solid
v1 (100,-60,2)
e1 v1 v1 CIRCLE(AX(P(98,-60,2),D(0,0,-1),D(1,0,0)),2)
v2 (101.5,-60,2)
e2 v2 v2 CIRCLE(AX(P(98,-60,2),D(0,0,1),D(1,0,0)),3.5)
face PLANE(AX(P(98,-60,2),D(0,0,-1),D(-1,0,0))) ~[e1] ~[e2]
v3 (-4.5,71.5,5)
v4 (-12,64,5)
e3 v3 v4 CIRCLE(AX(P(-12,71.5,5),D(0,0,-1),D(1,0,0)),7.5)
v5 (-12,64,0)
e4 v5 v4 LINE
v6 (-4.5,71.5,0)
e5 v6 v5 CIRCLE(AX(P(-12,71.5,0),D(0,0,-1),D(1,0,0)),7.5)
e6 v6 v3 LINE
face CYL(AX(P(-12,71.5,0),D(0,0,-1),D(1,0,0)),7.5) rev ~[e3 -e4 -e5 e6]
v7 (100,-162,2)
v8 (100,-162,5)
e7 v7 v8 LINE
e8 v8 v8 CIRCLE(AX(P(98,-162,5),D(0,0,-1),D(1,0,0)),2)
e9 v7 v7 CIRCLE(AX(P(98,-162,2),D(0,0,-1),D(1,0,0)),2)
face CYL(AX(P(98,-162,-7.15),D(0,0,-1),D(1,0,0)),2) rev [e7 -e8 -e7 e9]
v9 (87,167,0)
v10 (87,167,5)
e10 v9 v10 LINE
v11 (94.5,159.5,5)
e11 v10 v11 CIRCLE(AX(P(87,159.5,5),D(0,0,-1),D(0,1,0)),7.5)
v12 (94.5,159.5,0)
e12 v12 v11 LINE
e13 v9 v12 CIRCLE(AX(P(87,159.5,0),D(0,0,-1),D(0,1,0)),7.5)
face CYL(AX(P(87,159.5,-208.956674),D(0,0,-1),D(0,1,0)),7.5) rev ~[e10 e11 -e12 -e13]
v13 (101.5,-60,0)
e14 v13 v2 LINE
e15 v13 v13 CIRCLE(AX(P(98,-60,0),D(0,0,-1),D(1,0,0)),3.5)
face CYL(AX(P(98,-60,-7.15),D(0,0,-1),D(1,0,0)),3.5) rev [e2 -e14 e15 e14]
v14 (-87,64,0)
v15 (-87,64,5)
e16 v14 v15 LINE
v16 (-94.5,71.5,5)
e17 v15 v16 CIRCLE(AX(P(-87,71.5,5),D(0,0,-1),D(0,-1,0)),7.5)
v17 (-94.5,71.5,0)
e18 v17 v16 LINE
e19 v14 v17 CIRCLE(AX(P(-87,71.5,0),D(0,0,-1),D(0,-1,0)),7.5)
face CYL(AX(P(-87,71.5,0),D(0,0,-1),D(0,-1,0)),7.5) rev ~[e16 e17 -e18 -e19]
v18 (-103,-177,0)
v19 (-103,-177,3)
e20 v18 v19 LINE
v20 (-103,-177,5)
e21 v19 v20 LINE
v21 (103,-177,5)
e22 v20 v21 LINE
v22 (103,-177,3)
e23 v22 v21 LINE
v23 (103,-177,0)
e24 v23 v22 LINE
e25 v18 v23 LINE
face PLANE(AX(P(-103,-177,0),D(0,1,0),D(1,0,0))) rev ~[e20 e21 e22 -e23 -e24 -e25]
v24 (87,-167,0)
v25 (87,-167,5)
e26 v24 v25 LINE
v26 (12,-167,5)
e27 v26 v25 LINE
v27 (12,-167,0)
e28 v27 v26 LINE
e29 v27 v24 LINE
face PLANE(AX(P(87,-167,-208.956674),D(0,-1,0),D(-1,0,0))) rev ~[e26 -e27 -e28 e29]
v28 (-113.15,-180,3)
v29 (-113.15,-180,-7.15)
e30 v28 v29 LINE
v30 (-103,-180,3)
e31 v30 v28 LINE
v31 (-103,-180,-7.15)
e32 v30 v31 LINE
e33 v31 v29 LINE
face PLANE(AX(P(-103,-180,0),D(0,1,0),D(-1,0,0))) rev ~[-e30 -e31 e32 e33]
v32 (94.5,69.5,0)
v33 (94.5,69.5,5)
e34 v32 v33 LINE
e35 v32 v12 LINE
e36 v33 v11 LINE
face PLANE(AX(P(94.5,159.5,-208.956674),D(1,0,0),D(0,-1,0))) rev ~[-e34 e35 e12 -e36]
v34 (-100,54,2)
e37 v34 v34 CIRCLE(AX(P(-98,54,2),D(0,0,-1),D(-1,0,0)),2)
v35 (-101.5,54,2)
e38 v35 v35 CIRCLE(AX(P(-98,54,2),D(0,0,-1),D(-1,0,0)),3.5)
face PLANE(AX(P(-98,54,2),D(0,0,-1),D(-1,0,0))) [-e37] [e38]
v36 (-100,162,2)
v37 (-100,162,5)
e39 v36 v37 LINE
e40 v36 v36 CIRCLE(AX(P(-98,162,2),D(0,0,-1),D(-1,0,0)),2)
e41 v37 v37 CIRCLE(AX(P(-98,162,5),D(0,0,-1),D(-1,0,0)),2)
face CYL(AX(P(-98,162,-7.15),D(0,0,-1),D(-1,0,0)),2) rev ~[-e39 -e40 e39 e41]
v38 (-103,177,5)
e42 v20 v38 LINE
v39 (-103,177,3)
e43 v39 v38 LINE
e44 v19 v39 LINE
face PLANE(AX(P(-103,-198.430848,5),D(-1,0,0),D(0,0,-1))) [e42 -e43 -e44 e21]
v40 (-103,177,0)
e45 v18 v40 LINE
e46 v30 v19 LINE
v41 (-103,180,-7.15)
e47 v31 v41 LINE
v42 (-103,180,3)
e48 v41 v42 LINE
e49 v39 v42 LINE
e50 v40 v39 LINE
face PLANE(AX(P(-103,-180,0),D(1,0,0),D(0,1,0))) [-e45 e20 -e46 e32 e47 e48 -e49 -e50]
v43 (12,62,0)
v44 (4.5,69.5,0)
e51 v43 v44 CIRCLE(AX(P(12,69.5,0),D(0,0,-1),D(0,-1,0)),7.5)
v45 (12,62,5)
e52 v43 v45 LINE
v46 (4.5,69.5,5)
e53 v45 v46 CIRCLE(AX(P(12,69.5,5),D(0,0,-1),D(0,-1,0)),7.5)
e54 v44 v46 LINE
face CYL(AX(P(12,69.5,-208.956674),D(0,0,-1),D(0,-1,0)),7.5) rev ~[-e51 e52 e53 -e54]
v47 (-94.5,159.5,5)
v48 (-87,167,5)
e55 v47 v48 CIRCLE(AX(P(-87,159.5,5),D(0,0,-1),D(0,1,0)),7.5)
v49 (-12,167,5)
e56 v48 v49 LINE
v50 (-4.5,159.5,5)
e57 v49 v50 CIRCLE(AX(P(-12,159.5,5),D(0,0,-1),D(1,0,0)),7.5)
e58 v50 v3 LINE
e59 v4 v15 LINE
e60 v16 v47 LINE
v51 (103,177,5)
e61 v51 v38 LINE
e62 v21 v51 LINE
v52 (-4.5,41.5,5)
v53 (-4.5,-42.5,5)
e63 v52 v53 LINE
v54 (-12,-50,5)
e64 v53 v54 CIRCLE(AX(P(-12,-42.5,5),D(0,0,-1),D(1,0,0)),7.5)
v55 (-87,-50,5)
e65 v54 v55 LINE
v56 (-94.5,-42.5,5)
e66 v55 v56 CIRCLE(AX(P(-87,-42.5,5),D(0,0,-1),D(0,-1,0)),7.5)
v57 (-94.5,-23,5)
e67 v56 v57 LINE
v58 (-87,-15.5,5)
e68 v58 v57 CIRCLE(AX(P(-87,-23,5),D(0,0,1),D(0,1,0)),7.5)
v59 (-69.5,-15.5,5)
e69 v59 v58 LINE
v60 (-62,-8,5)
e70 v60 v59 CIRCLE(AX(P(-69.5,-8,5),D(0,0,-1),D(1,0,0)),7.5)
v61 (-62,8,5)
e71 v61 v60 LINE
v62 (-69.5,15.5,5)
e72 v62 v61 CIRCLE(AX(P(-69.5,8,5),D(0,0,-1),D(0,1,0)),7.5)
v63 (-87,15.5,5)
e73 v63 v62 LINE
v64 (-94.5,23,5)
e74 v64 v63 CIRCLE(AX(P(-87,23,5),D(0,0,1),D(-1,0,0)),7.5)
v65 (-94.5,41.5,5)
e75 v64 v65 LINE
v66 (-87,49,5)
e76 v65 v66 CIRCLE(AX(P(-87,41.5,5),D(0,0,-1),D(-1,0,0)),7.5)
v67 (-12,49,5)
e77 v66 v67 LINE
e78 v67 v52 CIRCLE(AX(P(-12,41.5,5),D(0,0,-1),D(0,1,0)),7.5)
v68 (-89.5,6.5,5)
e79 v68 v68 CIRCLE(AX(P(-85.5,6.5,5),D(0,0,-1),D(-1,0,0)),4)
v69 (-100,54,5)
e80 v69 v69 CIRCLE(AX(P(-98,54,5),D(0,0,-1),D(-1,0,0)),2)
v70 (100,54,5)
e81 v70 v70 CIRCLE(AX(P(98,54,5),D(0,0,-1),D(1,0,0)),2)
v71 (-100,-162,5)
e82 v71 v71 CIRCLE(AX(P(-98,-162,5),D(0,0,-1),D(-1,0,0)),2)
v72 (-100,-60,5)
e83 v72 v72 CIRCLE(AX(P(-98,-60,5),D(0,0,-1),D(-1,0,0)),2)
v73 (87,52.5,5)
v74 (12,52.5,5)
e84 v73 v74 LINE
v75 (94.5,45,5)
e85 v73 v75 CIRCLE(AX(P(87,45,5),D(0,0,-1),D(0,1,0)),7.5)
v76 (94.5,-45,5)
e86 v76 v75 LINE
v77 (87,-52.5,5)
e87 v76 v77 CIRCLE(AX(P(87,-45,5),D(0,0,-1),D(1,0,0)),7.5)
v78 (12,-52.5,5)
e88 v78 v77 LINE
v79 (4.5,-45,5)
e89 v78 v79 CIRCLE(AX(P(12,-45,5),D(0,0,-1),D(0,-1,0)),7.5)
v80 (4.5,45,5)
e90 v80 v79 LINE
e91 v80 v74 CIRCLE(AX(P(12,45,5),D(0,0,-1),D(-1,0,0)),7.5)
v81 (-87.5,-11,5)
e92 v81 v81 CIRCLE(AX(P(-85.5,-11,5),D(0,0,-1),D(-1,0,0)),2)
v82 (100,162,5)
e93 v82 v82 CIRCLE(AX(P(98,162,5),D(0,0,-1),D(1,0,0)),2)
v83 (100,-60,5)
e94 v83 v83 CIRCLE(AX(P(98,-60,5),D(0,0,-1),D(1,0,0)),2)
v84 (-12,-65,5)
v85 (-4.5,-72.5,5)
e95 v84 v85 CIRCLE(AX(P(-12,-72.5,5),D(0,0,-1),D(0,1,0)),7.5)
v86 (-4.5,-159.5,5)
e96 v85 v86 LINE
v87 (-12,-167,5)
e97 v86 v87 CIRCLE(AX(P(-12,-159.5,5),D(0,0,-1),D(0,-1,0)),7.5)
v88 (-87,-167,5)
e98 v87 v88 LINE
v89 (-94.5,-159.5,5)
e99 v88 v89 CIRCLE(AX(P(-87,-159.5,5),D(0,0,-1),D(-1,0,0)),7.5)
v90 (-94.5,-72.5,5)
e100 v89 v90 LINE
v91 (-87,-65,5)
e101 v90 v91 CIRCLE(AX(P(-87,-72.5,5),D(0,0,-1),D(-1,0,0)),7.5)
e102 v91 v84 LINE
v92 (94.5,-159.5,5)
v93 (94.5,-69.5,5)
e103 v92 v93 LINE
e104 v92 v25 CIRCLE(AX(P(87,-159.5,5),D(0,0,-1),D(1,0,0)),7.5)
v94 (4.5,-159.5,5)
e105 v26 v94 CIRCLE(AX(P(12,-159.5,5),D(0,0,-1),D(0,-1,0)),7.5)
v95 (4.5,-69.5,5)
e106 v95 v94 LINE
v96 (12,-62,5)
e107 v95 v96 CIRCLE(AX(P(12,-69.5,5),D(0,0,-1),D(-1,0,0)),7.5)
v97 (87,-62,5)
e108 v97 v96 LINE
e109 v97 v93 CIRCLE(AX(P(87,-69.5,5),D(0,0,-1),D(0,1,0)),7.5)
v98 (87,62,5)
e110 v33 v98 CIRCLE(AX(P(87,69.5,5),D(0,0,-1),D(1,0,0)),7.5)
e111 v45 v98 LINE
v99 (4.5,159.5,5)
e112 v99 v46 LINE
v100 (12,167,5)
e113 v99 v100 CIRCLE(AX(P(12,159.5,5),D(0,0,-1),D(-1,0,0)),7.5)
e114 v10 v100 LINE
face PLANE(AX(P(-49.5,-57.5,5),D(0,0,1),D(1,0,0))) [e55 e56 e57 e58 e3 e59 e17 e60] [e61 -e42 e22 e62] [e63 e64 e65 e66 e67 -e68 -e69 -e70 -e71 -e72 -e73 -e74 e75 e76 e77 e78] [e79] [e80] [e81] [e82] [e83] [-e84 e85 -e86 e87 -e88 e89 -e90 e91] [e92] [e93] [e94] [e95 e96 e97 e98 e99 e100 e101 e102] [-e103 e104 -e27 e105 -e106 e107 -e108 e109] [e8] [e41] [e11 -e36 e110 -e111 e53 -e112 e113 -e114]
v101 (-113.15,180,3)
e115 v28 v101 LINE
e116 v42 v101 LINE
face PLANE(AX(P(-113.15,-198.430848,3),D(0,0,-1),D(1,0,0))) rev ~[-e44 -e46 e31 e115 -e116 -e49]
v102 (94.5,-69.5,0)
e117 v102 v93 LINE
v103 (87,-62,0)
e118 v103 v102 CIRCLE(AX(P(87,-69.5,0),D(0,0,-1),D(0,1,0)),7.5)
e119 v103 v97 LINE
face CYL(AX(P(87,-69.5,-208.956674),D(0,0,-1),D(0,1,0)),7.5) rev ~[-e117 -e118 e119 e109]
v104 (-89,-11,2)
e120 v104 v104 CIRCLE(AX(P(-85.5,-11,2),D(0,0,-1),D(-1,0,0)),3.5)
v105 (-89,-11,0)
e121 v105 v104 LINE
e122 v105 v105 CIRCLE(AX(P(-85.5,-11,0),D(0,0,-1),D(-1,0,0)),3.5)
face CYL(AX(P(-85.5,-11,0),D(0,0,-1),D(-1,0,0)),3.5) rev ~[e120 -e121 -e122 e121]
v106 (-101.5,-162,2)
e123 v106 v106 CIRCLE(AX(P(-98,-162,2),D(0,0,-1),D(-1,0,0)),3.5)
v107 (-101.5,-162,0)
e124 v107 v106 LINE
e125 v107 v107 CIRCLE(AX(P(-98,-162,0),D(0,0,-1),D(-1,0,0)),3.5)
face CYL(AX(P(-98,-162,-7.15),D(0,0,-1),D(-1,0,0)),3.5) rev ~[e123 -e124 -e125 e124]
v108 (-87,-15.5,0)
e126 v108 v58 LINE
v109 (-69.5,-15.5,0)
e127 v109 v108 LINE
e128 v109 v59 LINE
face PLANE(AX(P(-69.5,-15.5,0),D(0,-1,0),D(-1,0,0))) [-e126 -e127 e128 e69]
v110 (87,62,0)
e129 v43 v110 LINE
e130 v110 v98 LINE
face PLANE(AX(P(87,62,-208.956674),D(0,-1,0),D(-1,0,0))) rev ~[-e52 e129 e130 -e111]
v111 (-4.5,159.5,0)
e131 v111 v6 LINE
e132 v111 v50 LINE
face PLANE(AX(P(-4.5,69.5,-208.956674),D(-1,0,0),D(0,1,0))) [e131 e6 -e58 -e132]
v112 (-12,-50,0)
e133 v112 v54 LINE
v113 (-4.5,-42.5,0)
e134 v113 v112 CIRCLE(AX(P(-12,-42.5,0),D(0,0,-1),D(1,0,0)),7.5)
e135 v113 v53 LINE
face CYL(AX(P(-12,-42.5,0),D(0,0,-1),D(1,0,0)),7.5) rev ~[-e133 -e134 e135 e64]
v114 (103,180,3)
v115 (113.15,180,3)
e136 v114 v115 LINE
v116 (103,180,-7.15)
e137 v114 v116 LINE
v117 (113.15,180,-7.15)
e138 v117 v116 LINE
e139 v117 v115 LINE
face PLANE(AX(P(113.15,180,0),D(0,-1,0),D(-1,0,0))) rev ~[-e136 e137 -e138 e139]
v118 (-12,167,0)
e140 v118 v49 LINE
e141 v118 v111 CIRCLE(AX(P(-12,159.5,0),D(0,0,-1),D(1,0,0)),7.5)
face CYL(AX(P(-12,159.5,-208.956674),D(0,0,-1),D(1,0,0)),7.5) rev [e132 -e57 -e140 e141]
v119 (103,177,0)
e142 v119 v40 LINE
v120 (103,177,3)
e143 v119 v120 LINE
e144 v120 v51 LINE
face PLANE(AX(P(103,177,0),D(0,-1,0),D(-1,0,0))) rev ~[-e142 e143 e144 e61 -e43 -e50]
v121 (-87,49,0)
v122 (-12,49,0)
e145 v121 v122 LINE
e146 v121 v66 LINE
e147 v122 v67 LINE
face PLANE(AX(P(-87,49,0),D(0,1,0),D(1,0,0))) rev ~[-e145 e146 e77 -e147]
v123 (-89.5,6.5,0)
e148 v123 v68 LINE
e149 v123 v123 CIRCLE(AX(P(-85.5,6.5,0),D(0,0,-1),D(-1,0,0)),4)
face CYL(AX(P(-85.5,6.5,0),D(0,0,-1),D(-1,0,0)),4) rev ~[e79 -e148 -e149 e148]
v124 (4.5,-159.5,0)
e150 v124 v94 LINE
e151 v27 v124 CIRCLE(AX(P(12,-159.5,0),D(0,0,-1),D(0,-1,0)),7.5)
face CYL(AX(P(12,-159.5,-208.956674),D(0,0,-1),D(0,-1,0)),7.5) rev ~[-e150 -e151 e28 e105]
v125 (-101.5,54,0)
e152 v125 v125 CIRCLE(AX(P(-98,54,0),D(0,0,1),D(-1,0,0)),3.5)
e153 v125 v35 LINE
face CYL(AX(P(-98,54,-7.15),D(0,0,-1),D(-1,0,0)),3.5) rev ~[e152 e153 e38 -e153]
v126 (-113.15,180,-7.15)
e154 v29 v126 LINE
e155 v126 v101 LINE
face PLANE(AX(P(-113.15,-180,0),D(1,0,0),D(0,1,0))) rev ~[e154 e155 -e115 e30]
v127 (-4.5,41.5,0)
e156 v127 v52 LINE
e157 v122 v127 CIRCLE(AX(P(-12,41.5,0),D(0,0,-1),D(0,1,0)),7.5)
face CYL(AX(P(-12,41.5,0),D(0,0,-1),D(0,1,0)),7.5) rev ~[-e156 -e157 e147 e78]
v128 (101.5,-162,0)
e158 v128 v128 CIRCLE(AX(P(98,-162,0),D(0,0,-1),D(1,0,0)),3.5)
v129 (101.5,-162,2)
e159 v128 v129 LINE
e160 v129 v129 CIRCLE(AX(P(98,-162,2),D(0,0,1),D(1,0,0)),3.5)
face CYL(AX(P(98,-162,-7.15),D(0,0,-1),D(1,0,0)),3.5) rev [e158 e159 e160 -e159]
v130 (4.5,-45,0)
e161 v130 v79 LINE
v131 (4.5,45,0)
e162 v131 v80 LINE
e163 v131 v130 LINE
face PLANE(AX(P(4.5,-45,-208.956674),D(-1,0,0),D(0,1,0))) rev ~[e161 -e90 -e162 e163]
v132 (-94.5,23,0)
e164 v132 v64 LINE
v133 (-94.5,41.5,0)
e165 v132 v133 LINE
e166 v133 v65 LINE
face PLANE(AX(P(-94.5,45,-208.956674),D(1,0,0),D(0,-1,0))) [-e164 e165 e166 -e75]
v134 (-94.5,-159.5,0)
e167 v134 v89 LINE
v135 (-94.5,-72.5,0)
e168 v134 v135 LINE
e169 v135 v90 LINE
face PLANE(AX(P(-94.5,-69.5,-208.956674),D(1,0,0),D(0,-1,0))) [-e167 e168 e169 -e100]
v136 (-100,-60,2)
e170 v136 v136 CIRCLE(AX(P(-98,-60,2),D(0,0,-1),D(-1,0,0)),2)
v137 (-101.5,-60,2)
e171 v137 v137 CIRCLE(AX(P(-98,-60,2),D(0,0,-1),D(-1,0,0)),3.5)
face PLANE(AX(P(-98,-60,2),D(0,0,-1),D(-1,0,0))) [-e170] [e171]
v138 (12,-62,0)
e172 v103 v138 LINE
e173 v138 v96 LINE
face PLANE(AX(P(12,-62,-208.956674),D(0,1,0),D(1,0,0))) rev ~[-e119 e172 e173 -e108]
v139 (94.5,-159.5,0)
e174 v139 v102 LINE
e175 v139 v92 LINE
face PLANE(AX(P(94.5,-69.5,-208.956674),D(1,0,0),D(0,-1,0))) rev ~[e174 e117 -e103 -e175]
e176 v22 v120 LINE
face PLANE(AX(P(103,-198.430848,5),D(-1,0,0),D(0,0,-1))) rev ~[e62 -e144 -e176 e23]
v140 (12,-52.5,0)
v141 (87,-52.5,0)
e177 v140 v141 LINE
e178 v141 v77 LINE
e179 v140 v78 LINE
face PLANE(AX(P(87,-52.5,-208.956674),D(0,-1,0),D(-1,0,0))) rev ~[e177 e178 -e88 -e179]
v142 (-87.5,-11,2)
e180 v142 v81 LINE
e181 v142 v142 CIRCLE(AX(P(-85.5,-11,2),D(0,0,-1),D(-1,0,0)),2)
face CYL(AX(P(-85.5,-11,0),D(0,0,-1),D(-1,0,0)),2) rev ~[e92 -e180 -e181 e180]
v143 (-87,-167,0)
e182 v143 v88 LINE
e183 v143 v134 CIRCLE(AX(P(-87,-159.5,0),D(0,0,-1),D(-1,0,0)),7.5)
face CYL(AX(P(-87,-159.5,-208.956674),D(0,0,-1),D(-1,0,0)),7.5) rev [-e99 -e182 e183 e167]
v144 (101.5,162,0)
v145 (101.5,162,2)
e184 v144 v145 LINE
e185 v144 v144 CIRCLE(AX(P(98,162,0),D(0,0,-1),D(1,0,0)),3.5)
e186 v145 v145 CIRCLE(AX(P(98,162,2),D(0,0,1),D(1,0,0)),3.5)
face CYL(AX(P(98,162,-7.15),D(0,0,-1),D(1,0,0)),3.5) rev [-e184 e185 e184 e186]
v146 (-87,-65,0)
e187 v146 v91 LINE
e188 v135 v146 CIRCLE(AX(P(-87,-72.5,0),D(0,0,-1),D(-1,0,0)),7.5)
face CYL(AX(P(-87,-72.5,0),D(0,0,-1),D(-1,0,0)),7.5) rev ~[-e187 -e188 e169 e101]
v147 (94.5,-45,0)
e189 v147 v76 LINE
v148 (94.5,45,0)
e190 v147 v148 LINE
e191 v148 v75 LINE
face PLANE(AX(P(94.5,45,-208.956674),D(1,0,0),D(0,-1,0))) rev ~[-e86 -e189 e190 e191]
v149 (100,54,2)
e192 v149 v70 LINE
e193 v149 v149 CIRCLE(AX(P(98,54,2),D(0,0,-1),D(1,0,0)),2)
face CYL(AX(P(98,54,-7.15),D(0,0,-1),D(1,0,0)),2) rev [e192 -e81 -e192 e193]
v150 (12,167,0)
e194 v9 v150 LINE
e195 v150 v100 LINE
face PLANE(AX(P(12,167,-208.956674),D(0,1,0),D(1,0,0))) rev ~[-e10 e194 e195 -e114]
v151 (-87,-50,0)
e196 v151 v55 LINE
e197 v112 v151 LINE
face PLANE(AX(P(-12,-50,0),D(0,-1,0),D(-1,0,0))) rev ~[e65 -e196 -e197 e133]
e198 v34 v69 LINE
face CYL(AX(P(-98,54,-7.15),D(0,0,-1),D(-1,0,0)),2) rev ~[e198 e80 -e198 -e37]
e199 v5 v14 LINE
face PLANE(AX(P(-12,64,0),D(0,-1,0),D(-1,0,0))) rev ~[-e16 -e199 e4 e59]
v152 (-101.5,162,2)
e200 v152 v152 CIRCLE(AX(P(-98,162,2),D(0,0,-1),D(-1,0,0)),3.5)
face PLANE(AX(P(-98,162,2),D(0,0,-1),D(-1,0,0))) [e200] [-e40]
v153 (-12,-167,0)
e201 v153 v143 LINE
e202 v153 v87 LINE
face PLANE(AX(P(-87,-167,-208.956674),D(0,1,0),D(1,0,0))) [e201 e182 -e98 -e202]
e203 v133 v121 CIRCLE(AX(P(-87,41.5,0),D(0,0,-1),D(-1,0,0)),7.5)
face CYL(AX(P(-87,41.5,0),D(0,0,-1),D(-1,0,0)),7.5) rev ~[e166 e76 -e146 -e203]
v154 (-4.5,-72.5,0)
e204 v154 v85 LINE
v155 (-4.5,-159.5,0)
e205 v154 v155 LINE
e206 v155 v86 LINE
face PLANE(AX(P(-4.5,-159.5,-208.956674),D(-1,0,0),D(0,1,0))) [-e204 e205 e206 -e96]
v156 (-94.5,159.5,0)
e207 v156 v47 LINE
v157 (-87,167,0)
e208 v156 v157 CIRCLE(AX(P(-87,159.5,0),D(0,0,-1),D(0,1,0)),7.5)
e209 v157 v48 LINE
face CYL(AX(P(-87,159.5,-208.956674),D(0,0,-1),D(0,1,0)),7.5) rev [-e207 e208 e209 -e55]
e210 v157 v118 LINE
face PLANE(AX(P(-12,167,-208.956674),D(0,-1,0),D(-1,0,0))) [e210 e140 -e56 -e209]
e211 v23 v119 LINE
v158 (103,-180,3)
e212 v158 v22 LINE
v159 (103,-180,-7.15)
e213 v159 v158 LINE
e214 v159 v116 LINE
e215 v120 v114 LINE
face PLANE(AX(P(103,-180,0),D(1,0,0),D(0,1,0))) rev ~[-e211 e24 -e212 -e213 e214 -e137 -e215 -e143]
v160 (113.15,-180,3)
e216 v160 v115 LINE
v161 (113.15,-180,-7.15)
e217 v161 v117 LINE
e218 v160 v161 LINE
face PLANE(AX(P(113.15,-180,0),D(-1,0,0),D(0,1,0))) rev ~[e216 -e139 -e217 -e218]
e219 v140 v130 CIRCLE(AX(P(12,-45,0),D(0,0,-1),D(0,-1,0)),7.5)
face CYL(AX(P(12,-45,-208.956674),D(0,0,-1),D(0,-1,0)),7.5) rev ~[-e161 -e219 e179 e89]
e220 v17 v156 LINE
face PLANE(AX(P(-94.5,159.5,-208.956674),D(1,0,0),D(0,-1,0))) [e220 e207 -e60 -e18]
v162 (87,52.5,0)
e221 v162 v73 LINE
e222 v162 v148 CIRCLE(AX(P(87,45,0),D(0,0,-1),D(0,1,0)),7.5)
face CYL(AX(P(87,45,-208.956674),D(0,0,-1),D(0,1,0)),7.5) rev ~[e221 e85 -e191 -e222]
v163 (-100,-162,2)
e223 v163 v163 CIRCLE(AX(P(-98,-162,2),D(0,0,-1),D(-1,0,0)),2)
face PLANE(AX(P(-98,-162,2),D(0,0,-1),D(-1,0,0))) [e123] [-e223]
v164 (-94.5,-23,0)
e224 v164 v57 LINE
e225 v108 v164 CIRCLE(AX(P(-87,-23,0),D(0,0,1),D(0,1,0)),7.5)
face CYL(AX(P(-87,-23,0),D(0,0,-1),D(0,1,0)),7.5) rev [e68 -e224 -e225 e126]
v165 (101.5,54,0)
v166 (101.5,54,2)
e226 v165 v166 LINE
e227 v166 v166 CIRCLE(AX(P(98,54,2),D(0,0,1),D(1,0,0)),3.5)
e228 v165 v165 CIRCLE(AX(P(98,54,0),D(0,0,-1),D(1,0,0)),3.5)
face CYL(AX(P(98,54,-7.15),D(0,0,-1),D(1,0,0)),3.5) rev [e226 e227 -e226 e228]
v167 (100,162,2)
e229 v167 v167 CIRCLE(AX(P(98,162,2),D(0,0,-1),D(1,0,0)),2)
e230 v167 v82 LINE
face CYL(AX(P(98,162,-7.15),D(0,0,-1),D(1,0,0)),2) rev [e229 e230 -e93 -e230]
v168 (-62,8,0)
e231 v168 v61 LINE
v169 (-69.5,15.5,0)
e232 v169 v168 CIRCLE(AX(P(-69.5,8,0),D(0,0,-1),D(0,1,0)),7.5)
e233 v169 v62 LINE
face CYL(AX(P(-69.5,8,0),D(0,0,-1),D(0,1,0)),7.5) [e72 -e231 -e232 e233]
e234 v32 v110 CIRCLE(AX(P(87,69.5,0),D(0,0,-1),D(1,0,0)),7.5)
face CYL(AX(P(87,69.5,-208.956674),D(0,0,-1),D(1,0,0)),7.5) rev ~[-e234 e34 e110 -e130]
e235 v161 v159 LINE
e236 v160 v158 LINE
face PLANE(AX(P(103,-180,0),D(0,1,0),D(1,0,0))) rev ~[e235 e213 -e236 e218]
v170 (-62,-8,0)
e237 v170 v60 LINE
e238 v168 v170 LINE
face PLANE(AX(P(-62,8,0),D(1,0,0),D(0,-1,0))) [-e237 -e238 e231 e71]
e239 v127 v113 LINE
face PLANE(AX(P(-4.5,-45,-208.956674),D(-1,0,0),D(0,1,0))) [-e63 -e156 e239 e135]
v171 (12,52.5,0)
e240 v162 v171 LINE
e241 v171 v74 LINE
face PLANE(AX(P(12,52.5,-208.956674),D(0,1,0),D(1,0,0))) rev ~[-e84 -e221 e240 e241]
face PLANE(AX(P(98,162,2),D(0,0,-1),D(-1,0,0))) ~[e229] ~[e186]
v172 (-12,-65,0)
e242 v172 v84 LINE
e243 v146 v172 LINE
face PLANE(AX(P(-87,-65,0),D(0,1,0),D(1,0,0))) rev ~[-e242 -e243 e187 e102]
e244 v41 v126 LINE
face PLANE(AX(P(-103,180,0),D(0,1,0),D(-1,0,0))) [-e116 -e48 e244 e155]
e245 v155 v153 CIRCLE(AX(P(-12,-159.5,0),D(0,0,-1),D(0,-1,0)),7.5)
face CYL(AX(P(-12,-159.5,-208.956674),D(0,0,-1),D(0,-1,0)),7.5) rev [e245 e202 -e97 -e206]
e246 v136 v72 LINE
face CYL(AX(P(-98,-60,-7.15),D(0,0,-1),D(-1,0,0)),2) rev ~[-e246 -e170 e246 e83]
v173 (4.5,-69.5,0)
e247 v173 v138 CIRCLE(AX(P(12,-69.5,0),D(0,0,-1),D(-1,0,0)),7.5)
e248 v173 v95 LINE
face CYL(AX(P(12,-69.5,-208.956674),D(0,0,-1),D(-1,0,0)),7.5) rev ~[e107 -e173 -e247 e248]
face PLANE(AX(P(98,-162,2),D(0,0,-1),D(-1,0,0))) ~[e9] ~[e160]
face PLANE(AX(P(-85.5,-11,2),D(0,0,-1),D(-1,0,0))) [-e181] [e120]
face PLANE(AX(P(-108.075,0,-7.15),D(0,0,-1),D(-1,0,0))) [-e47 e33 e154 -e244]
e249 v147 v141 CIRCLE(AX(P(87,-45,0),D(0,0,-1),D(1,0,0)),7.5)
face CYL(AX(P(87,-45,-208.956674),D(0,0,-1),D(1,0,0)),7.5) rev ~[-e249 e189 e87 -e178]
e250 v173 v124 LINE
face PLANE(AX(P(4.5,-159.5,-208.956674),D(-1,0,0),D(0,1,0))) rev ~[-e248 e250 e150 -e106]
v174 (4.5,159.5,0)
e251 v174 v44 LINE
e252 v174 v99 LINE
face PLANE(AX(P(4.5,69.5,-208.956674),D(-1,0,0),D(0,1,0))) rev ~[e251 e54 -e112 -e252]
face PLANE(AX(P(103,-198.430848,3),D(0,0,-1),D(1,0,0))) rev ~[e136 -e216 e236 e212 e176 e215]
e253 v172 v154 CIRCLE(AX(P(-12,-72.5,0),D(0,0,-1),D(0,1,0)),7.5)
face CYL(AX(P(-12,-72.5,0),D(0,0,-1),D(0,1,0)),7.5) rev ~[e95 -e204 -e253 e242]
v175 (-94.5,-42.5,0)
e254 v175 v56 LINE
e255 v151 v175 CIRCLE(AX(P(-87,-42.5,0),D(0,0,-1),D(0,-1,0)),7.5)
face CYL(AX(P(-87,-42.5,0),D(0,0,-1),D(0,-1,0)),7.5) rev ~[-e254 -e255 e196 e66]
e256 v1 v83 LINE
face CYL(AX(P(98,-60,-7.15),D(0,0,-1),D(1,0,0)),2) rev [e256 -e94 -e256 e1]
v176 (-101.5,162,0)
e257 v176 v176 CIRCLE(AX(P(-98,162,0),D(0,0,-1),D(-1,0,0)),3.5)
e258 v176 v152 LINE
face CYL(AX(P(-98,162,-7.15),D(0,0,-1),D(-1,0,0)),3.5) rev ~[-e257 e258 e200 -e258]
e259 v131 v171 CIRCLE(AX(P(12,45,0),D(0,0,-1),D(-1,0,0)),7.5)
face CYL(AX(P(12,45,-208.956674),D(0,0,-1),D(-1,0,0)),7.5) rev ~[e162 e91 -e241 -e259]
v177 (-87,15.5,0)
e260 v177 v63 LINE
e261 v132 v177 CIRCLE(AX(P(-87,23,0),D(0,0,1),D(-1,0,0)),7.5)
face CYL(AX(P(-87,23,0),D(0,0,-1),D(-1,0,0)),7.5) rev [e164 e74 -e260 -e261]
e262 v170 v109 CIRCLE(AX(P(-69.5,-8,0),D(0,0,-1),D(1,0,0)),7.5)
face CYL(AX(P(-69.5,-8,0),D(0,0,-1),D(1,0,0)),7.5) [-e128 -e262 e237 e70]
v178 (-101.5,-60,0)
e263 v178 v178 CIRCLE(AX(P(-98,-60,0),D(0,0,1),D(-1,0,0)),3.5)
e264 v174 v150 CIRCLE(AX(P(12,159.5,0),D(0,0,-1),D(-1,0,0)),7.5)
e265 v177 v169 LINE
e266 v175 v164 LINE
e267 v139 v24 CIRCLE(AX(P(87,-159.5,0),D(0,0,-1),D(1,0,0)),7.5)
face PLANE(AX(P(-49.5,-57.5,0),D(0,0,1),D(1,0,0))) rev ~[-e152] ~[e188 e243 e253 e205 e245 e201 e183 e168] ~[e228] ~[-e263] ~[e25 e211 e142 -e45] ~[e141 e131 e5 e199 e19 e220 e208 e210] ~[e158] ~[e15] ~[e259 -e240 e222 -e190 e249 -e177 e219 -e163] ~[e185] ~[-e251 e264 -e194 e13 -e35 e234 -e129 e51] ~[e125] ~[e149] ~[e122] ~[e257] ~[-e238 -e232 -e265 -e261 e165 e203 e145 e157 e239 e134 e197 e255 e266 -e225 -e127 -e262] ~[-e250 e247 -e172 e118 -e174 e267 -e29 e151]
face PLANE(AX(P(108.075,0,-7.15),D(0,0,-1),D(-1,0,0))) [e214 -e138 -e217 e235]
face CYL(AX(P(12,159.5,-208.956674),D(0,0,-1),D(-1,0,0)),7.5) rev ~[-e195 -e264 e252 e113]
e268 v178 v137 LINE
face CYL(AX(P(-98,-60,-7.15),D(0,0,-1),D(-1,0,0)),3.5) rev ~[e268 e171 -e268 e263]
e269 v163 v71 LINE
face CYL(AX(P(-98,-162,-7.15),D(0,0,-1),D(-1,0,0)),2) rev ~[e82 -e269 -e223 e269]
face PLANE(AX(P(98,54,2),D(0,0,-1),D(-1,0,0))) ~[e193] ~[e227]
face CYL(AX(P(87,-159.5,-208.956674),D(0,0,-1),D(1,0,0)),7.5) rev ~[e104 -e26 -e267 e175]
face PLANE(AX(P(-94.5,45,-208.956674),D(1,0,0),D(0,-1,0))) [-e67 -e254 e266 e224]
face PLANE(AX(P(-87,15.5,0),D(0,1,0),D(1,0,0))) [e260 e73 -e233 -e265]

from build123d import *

# Parameters (mm, degrees)
P_IDAT_VYSUNUT_M1_DEPTH        = 5
SKICA5_W                       = 10.15
SKICA5_H                       = 360
P_IDAT_VYSUNUT_M5_DEPTH        = 7.15
ODEBRAT_VYSUNUT_M1_DEPTH       = 213.956673997
ODEBRAT_VYSUNUT_M1_DEPTH_BACK  = 213.956673997
SKICA9_R                       = 2
ODEBRAT_VYSUNUT_M3_DEPTH       = 213.956673997
SKICA13_R                      = 3.5
ODEBRAT_VYSUNUT_M9_DEPTH       = 9.15
P_IDAT_VYSUNUT_M6_DEPTH        = 5
SKICA15_R                      = 4
P_IDAT_VYSUNUT_M7_DEPTH        = 5
SKICA16_R                      = 2
ODEBRAT_VYSUNUT_M10_DEPTH      = 213.729981432
SKICA17_R                      = 3.5
ODEBRAT_VYSUNUT_M11_DEPTH      = 2
LINPOLE1_COUNT                 = 2
LINPOLE1_PITCH                 = 114
ODEBRAT_VYSUNUT_M12_DEPTH      = 378.430847971
ODEBRAT_VYSUNUT_M12_DEPTH_BACK = 378.430847971
SKICA18_W                      = 10.15
SKICA18_H                      = 2


with BuildPart() as part:
    # Skica1 → Přidat vysunutím1 (new body)
    with BuildSketch(Plane.XY):
        Polygon((113.15, -180), (113.15, 180), (103, 180), (103, 177), (-103, 177), (-103, 180), (-113.15, 180), (-113.15, -180), (-103, -180), (-103, -177), (103, -177), (103, -180), align=None)
    extrude(amount=P_IDAT_VYSUNUT_M1_DEPTH)

    # Skica5 → Přidat vysunutím5 (add)
    with BuildSketch(Plane(origin=(0, 0, 0), x_dir=(-1, 0, 0), z_dir=(0, 0, -1))):
        with Locations((108.075, 0)):
            Rectangle(SKICA5_W, SKICA5_H)
        with Locations((-108.075, 0)):
            Rectangle(SKICA5_W, SKICA5_H)
    extrude(amount=P_IDAT_VYSUNUT_M5_DEPTH)

    # Skica7 → Odebrat vysunutím1 (cut, two sides: drawn at the far end of the back side and taken through both)
    with BuildSketch(Plane.XY.offset(5).offset(-ODEBRAT_VYSUNUT_M1_DEPTH_BACK)):
        with BuildLine():
            Line((12, 167), (87, 167))
            ThreePointArc((87, 167), (92.303300859, 164.803300859), (94.5, 159.5))
            Line((94.5, 159.5), (94.5, 69.5))
            ThreePointArc((94.5, 69.5), (92.303300859, 64.196699141), (87, 62))
            Line((87, 62), (12, 62))
            ThreePointArc((12, 62), (6.696699141, 64.196699141), (4.5, 69.5))
            Line((4.5, 69.5), (4.5, 159.5))
            ThreePointArc((4.5, 159.5), (6.696699141, 164.803300859), (12, 167))
        make_face()
        with BuildLine():
            Line((-12, 167), (-87, 167))
            ThreePointArc((-87, 167), (-92.303300859, 164.803300859), (-94.5, 159.5))
            Line((-94.5, 159.5), (-94.5, 69.5))
            ThreePointArc((-94.5, 69.5), (-92.303300859, 64.196699141), (-87, 62))
            Line((-87, 62), (-12, 62))
            ThreePointArc((-12, 62), (-6.696699141, 64.196699141), (-4.5, 69.5))
            Line((-4.5, 69.5), (-4.5, 159.5))
            ThreePointArc((-4.5, 159.5), (-6.696699141, 164.803300859), (-12, 167))
        make_face()
        with BuildLine():
            Line((94.5, 45), (94.5, -45))
            ThreePointArc((94.5, -45), (92.303300859, -50.303300859), (87, -52.5))
            Line((87, -52.5), (12, -52.5))
            ThreePointArc((12, -52.5), (6.696699141, -50.303300859), (4.5, -45))
            Line((4.5, -45), (4.5, 45))
            ThreePointArc((4.5, 45), (6.696699141, 50.303300859), (12, 52.5))
            Line((12, 52.5), (87, 52.5))
            ThreePointArc((87, 52.5), (92.303300859, 50.303300859), (94.5, 45))
        make_face()
        with BuildLine():
            Line((-94.5, 45), (-94.5, -45))
            ThreePointArc((-94.5, -45), (-92.303300859, -50.303300859), (-87, -52.5))
            Line((-87, -52.5), (-12, -52.5))
            ThreePointArc((-12, -52.5), (-6.696699141, -50.303300859), (-4.5, -45))
            Line((-4.5, -45), (-4.5, 45))
            ThreePointArc((-4.5, 45), (-6.696699141, 50.303300859), (-12, 52.5))
            Line((-12, 52.5), (-87, 52.5))
            ThreePointArc((-87, 52.5), (-92.303300859, 50.303300859), (-94.5, 45))
        make_face()
        with BuildLine():
            Line((94.5, -69.5), (94.5, -159.5))
            ThreePointArc((94.5, -159.5), (92.303300859, -164.803300859), (87, -167))
            Line((87, -167), (12, -167))
            ThreePointArc((12, -167), (6.696699141, -164.803300859), (4.5, -159.5))
            Line((4.5, -159.5), (4.5, -69.5))
            ThreePointArc((4.5, -69.5), (6.696699141, -64.196699141), (12, -62))
            Line((12, -62), (87, -62))
            ThreePointArc((87, -62), (92.303300859, -64.196699141), (94.5, -69.5))
        make_face()
        with BuildLine():
            Line((-94.5, -69.5), (-94.5, -159.5))
            ThreePointArc((-94.5, -159.5), (-92.303300859, -164.803300859), (-87, -167))
            Line((-87, -167), (-12, -167))
            ThreePointArc((-12, -167), (-6.696699141, -164.803300859), (-4.5, -159.5))
            Line((-4.5, -159.5), (-4.5, -69.5))
            ThreePointArc((-4.5, -69.5), (-6.696699141, -64.196699141), (-12, -62))
            Line((-12, -62), (-87, -62))
            ThreePointArc((-87, -62), (-92.303300859, -64.196699141), (-94.5, -69.5))
        make_face()
    extrude(amount=ODEBRAT_VYSUNUT_M1_DEPTH + ODEBRAT_VYSUNUT_M1_DEPTH_BACK, mode=Mode.SUBTRACT)

    # Skica9 → Odebrat vysunutím3 (cut, through all)
    with BuildSketch(Plane(origin=(0, 0, -7.15), x_dir=(-1, 0, 0), z_dir=(0, 0, -1))):
        with Locations((98, 162)):
            Circle(SKICA9_R)
        with Locations((98, 54)):
            Circle(SKICA9_R)
        with Locations((98, -162)):
            Circle(SKICA9_R)
        with Locations((98, -60)):
            Circle(SKICA9_R)
    odebrat_vysunut_m3 = extrude(amount=-ODEBRAT_VYSUNUT_M3_DEPTH, mode=Mode.SUBTRACT)

    # Zrcadlit2: Odebrat vysunutím3 across plane
    add(odebrat_vysunut_m3.mirror(Plane(origin=(0, 0, 0), x_dir=(0, 0, 1), z_dir=(1, 0, 0))), mode=Mode.SUBTRACT)

    # Skica13 → Odebrat vysunutím9 (cut)
    with BuildSketch(Plane(origin=(0, 0, -7.15), x_dir=(-1, 0, 0), z_dir=(0, 0, -1))):
        with Locations((98, 162)):
            Circle(SKICA13_R)
        with Locations((98, 54)):
            Circle(SKICA13_R)
        with Locations((98, -162)):
            Circle(SKICA13_R)
        with Locations((98, -60)):
            Circle(SKICA13_R)
    odebrat_vysunut_m9 = extrude(amount=-ODEBRAT_VYSUNUT_M9_DEPTH, mode=Mode.SUBTRACT)

    # Zrcadlit3: Odebrat vysunutím9 across plane
    add(odebrat_vysunut_m9.mirror(Plane(origin=(0, 0, 0), x_dir=(0, 0, 1), z_dir=(1, 0, 0))), mode=Mode.SUBTRACT)

    # Skica14 → Přidat vysunutím6 (add)
    with BuildSketch(Plane(origin=(0, 0, 0), x_dir=(-1, 0, 0), z_dir=(0, 0, -1))):
        with BuildLine():
            Line((94.5, 71.5), (94.5, 41.5))
            ThreePointArc((94.5, 41.5), (92.303300859, 46.803300859), (87, 49))
            Line((87, 49), (12, 49))
            ThreePointArc((12, 49), (6.696699141, 46.803300859), (4.5, 41.5))
            Line((4.5, 41.5), (4.5, 71.5))
            ThreePointArc((4.5, 71.5), (6.696699141, 66.196699141), (12, 64))
            Line((12, 64), (87, 64))
            ThreePointArc((87, 64), (92.303300859, 66.196699141), (94.5, 71.5))
        make_face()
    p_idat_vysunut_m6 = extrude(amount=-P_IDAT_VYSUNUT_M6_DEPTH)

    # Skica15 → Přidat vysunutím7 (add)
    with BuildSketch(Plane(origin=(0, 0, 0), x_dir=(-1, 0, 0), z_dir=(0, 0, -1))):
        with BuildLine():
            Line((87, 15.5), (69.5, 15.5))
            ThreePointArc((69.5, 15.5), (64.196699141, 13.303300859), (62, 8))
            Line((62, 8), (62, -8))
            ThreePointArc((62, -8), (64.196699141, -13.303300859), (69.5, -15.5))
            Line((69.5, -15.5), (87, -15.5))
            ThreePointArc((87, -15.5), (92.303300859, -17.696699141), (94.5, -23))
            Line((94.5, -23), (94.5, 23))
            ThreePointArc((94.5, 23), (92.303300859, 17.696699141), (87, 15.5))
        make_face()
        with Locations((85.5, 6.5)):
            Circle(SKICA15_R, mode=Mode.SUBTRACT)
    extrude(amount=-P_IDAT_VYSUNUT_M7_DEPTH)

    # Skica16 → Odebrat vysunutím10 (cut, through all)
    with BuildSketch(Plane(origin=(0, 0, 0), x_dir=(-1, 0, 0), z_dir=(0, 0, -1))):
        with Locations((85.5, -11)):
            Circle(SKICA16_R)
    extrude(amount=-ODEBRAT_VYSUNUT_M10_DEPTH, mode=Mode.SUBTRACT)

    # Skica17 → Odebrat vysunutím11 (cut)
    with BuildSketch(Plane(origin=(0, 0, 0), x_dir=(-1, 0, 0), z_dir=(0, 0, -1))):
        with Locations((85.5, -11)):
            Circle(SKICA17_R)
    extrude(amount=-ODEBRAT_VYSUNUT_M11_DEPTH, mode=Mode.SUBTRACT)

    # LinPole1: Přidat vysunutím6 ×2
    with Locations(*[(0, -i * LINPOLE1_PITCH, 0) for i in range(1, LINPOLE1_COUNT)]):
        add(p_idat_vysunut_m6)

    # Skica18 → Odebrat vysunutím12 (cut, two sides: drawn at the far end of the back side and taken through both)
    with BuildSketch(Plane(origin=(0, 180, 0), x_dir=(1, 0, 0), z_dir=(0, 1, 0)).offset(-ODEBRAT_VYSUNUT_M12_DEPTH_BACK)):
        with Locations((-108.075, -4)):
            Rectangle(SKICA18_W, SKICA18_H)
        with Locations((108.075, -4)):
            Rectangle(SKICA18_W, SKICA18_H)
    extrude(amount=ODEBRAT_VYSUNUT_M12_DEPTH + ODEBRAT_VYSUNUT_M12_DEPTH_BACK, mode=Mode.SUBTRACT)


solid = part.part
